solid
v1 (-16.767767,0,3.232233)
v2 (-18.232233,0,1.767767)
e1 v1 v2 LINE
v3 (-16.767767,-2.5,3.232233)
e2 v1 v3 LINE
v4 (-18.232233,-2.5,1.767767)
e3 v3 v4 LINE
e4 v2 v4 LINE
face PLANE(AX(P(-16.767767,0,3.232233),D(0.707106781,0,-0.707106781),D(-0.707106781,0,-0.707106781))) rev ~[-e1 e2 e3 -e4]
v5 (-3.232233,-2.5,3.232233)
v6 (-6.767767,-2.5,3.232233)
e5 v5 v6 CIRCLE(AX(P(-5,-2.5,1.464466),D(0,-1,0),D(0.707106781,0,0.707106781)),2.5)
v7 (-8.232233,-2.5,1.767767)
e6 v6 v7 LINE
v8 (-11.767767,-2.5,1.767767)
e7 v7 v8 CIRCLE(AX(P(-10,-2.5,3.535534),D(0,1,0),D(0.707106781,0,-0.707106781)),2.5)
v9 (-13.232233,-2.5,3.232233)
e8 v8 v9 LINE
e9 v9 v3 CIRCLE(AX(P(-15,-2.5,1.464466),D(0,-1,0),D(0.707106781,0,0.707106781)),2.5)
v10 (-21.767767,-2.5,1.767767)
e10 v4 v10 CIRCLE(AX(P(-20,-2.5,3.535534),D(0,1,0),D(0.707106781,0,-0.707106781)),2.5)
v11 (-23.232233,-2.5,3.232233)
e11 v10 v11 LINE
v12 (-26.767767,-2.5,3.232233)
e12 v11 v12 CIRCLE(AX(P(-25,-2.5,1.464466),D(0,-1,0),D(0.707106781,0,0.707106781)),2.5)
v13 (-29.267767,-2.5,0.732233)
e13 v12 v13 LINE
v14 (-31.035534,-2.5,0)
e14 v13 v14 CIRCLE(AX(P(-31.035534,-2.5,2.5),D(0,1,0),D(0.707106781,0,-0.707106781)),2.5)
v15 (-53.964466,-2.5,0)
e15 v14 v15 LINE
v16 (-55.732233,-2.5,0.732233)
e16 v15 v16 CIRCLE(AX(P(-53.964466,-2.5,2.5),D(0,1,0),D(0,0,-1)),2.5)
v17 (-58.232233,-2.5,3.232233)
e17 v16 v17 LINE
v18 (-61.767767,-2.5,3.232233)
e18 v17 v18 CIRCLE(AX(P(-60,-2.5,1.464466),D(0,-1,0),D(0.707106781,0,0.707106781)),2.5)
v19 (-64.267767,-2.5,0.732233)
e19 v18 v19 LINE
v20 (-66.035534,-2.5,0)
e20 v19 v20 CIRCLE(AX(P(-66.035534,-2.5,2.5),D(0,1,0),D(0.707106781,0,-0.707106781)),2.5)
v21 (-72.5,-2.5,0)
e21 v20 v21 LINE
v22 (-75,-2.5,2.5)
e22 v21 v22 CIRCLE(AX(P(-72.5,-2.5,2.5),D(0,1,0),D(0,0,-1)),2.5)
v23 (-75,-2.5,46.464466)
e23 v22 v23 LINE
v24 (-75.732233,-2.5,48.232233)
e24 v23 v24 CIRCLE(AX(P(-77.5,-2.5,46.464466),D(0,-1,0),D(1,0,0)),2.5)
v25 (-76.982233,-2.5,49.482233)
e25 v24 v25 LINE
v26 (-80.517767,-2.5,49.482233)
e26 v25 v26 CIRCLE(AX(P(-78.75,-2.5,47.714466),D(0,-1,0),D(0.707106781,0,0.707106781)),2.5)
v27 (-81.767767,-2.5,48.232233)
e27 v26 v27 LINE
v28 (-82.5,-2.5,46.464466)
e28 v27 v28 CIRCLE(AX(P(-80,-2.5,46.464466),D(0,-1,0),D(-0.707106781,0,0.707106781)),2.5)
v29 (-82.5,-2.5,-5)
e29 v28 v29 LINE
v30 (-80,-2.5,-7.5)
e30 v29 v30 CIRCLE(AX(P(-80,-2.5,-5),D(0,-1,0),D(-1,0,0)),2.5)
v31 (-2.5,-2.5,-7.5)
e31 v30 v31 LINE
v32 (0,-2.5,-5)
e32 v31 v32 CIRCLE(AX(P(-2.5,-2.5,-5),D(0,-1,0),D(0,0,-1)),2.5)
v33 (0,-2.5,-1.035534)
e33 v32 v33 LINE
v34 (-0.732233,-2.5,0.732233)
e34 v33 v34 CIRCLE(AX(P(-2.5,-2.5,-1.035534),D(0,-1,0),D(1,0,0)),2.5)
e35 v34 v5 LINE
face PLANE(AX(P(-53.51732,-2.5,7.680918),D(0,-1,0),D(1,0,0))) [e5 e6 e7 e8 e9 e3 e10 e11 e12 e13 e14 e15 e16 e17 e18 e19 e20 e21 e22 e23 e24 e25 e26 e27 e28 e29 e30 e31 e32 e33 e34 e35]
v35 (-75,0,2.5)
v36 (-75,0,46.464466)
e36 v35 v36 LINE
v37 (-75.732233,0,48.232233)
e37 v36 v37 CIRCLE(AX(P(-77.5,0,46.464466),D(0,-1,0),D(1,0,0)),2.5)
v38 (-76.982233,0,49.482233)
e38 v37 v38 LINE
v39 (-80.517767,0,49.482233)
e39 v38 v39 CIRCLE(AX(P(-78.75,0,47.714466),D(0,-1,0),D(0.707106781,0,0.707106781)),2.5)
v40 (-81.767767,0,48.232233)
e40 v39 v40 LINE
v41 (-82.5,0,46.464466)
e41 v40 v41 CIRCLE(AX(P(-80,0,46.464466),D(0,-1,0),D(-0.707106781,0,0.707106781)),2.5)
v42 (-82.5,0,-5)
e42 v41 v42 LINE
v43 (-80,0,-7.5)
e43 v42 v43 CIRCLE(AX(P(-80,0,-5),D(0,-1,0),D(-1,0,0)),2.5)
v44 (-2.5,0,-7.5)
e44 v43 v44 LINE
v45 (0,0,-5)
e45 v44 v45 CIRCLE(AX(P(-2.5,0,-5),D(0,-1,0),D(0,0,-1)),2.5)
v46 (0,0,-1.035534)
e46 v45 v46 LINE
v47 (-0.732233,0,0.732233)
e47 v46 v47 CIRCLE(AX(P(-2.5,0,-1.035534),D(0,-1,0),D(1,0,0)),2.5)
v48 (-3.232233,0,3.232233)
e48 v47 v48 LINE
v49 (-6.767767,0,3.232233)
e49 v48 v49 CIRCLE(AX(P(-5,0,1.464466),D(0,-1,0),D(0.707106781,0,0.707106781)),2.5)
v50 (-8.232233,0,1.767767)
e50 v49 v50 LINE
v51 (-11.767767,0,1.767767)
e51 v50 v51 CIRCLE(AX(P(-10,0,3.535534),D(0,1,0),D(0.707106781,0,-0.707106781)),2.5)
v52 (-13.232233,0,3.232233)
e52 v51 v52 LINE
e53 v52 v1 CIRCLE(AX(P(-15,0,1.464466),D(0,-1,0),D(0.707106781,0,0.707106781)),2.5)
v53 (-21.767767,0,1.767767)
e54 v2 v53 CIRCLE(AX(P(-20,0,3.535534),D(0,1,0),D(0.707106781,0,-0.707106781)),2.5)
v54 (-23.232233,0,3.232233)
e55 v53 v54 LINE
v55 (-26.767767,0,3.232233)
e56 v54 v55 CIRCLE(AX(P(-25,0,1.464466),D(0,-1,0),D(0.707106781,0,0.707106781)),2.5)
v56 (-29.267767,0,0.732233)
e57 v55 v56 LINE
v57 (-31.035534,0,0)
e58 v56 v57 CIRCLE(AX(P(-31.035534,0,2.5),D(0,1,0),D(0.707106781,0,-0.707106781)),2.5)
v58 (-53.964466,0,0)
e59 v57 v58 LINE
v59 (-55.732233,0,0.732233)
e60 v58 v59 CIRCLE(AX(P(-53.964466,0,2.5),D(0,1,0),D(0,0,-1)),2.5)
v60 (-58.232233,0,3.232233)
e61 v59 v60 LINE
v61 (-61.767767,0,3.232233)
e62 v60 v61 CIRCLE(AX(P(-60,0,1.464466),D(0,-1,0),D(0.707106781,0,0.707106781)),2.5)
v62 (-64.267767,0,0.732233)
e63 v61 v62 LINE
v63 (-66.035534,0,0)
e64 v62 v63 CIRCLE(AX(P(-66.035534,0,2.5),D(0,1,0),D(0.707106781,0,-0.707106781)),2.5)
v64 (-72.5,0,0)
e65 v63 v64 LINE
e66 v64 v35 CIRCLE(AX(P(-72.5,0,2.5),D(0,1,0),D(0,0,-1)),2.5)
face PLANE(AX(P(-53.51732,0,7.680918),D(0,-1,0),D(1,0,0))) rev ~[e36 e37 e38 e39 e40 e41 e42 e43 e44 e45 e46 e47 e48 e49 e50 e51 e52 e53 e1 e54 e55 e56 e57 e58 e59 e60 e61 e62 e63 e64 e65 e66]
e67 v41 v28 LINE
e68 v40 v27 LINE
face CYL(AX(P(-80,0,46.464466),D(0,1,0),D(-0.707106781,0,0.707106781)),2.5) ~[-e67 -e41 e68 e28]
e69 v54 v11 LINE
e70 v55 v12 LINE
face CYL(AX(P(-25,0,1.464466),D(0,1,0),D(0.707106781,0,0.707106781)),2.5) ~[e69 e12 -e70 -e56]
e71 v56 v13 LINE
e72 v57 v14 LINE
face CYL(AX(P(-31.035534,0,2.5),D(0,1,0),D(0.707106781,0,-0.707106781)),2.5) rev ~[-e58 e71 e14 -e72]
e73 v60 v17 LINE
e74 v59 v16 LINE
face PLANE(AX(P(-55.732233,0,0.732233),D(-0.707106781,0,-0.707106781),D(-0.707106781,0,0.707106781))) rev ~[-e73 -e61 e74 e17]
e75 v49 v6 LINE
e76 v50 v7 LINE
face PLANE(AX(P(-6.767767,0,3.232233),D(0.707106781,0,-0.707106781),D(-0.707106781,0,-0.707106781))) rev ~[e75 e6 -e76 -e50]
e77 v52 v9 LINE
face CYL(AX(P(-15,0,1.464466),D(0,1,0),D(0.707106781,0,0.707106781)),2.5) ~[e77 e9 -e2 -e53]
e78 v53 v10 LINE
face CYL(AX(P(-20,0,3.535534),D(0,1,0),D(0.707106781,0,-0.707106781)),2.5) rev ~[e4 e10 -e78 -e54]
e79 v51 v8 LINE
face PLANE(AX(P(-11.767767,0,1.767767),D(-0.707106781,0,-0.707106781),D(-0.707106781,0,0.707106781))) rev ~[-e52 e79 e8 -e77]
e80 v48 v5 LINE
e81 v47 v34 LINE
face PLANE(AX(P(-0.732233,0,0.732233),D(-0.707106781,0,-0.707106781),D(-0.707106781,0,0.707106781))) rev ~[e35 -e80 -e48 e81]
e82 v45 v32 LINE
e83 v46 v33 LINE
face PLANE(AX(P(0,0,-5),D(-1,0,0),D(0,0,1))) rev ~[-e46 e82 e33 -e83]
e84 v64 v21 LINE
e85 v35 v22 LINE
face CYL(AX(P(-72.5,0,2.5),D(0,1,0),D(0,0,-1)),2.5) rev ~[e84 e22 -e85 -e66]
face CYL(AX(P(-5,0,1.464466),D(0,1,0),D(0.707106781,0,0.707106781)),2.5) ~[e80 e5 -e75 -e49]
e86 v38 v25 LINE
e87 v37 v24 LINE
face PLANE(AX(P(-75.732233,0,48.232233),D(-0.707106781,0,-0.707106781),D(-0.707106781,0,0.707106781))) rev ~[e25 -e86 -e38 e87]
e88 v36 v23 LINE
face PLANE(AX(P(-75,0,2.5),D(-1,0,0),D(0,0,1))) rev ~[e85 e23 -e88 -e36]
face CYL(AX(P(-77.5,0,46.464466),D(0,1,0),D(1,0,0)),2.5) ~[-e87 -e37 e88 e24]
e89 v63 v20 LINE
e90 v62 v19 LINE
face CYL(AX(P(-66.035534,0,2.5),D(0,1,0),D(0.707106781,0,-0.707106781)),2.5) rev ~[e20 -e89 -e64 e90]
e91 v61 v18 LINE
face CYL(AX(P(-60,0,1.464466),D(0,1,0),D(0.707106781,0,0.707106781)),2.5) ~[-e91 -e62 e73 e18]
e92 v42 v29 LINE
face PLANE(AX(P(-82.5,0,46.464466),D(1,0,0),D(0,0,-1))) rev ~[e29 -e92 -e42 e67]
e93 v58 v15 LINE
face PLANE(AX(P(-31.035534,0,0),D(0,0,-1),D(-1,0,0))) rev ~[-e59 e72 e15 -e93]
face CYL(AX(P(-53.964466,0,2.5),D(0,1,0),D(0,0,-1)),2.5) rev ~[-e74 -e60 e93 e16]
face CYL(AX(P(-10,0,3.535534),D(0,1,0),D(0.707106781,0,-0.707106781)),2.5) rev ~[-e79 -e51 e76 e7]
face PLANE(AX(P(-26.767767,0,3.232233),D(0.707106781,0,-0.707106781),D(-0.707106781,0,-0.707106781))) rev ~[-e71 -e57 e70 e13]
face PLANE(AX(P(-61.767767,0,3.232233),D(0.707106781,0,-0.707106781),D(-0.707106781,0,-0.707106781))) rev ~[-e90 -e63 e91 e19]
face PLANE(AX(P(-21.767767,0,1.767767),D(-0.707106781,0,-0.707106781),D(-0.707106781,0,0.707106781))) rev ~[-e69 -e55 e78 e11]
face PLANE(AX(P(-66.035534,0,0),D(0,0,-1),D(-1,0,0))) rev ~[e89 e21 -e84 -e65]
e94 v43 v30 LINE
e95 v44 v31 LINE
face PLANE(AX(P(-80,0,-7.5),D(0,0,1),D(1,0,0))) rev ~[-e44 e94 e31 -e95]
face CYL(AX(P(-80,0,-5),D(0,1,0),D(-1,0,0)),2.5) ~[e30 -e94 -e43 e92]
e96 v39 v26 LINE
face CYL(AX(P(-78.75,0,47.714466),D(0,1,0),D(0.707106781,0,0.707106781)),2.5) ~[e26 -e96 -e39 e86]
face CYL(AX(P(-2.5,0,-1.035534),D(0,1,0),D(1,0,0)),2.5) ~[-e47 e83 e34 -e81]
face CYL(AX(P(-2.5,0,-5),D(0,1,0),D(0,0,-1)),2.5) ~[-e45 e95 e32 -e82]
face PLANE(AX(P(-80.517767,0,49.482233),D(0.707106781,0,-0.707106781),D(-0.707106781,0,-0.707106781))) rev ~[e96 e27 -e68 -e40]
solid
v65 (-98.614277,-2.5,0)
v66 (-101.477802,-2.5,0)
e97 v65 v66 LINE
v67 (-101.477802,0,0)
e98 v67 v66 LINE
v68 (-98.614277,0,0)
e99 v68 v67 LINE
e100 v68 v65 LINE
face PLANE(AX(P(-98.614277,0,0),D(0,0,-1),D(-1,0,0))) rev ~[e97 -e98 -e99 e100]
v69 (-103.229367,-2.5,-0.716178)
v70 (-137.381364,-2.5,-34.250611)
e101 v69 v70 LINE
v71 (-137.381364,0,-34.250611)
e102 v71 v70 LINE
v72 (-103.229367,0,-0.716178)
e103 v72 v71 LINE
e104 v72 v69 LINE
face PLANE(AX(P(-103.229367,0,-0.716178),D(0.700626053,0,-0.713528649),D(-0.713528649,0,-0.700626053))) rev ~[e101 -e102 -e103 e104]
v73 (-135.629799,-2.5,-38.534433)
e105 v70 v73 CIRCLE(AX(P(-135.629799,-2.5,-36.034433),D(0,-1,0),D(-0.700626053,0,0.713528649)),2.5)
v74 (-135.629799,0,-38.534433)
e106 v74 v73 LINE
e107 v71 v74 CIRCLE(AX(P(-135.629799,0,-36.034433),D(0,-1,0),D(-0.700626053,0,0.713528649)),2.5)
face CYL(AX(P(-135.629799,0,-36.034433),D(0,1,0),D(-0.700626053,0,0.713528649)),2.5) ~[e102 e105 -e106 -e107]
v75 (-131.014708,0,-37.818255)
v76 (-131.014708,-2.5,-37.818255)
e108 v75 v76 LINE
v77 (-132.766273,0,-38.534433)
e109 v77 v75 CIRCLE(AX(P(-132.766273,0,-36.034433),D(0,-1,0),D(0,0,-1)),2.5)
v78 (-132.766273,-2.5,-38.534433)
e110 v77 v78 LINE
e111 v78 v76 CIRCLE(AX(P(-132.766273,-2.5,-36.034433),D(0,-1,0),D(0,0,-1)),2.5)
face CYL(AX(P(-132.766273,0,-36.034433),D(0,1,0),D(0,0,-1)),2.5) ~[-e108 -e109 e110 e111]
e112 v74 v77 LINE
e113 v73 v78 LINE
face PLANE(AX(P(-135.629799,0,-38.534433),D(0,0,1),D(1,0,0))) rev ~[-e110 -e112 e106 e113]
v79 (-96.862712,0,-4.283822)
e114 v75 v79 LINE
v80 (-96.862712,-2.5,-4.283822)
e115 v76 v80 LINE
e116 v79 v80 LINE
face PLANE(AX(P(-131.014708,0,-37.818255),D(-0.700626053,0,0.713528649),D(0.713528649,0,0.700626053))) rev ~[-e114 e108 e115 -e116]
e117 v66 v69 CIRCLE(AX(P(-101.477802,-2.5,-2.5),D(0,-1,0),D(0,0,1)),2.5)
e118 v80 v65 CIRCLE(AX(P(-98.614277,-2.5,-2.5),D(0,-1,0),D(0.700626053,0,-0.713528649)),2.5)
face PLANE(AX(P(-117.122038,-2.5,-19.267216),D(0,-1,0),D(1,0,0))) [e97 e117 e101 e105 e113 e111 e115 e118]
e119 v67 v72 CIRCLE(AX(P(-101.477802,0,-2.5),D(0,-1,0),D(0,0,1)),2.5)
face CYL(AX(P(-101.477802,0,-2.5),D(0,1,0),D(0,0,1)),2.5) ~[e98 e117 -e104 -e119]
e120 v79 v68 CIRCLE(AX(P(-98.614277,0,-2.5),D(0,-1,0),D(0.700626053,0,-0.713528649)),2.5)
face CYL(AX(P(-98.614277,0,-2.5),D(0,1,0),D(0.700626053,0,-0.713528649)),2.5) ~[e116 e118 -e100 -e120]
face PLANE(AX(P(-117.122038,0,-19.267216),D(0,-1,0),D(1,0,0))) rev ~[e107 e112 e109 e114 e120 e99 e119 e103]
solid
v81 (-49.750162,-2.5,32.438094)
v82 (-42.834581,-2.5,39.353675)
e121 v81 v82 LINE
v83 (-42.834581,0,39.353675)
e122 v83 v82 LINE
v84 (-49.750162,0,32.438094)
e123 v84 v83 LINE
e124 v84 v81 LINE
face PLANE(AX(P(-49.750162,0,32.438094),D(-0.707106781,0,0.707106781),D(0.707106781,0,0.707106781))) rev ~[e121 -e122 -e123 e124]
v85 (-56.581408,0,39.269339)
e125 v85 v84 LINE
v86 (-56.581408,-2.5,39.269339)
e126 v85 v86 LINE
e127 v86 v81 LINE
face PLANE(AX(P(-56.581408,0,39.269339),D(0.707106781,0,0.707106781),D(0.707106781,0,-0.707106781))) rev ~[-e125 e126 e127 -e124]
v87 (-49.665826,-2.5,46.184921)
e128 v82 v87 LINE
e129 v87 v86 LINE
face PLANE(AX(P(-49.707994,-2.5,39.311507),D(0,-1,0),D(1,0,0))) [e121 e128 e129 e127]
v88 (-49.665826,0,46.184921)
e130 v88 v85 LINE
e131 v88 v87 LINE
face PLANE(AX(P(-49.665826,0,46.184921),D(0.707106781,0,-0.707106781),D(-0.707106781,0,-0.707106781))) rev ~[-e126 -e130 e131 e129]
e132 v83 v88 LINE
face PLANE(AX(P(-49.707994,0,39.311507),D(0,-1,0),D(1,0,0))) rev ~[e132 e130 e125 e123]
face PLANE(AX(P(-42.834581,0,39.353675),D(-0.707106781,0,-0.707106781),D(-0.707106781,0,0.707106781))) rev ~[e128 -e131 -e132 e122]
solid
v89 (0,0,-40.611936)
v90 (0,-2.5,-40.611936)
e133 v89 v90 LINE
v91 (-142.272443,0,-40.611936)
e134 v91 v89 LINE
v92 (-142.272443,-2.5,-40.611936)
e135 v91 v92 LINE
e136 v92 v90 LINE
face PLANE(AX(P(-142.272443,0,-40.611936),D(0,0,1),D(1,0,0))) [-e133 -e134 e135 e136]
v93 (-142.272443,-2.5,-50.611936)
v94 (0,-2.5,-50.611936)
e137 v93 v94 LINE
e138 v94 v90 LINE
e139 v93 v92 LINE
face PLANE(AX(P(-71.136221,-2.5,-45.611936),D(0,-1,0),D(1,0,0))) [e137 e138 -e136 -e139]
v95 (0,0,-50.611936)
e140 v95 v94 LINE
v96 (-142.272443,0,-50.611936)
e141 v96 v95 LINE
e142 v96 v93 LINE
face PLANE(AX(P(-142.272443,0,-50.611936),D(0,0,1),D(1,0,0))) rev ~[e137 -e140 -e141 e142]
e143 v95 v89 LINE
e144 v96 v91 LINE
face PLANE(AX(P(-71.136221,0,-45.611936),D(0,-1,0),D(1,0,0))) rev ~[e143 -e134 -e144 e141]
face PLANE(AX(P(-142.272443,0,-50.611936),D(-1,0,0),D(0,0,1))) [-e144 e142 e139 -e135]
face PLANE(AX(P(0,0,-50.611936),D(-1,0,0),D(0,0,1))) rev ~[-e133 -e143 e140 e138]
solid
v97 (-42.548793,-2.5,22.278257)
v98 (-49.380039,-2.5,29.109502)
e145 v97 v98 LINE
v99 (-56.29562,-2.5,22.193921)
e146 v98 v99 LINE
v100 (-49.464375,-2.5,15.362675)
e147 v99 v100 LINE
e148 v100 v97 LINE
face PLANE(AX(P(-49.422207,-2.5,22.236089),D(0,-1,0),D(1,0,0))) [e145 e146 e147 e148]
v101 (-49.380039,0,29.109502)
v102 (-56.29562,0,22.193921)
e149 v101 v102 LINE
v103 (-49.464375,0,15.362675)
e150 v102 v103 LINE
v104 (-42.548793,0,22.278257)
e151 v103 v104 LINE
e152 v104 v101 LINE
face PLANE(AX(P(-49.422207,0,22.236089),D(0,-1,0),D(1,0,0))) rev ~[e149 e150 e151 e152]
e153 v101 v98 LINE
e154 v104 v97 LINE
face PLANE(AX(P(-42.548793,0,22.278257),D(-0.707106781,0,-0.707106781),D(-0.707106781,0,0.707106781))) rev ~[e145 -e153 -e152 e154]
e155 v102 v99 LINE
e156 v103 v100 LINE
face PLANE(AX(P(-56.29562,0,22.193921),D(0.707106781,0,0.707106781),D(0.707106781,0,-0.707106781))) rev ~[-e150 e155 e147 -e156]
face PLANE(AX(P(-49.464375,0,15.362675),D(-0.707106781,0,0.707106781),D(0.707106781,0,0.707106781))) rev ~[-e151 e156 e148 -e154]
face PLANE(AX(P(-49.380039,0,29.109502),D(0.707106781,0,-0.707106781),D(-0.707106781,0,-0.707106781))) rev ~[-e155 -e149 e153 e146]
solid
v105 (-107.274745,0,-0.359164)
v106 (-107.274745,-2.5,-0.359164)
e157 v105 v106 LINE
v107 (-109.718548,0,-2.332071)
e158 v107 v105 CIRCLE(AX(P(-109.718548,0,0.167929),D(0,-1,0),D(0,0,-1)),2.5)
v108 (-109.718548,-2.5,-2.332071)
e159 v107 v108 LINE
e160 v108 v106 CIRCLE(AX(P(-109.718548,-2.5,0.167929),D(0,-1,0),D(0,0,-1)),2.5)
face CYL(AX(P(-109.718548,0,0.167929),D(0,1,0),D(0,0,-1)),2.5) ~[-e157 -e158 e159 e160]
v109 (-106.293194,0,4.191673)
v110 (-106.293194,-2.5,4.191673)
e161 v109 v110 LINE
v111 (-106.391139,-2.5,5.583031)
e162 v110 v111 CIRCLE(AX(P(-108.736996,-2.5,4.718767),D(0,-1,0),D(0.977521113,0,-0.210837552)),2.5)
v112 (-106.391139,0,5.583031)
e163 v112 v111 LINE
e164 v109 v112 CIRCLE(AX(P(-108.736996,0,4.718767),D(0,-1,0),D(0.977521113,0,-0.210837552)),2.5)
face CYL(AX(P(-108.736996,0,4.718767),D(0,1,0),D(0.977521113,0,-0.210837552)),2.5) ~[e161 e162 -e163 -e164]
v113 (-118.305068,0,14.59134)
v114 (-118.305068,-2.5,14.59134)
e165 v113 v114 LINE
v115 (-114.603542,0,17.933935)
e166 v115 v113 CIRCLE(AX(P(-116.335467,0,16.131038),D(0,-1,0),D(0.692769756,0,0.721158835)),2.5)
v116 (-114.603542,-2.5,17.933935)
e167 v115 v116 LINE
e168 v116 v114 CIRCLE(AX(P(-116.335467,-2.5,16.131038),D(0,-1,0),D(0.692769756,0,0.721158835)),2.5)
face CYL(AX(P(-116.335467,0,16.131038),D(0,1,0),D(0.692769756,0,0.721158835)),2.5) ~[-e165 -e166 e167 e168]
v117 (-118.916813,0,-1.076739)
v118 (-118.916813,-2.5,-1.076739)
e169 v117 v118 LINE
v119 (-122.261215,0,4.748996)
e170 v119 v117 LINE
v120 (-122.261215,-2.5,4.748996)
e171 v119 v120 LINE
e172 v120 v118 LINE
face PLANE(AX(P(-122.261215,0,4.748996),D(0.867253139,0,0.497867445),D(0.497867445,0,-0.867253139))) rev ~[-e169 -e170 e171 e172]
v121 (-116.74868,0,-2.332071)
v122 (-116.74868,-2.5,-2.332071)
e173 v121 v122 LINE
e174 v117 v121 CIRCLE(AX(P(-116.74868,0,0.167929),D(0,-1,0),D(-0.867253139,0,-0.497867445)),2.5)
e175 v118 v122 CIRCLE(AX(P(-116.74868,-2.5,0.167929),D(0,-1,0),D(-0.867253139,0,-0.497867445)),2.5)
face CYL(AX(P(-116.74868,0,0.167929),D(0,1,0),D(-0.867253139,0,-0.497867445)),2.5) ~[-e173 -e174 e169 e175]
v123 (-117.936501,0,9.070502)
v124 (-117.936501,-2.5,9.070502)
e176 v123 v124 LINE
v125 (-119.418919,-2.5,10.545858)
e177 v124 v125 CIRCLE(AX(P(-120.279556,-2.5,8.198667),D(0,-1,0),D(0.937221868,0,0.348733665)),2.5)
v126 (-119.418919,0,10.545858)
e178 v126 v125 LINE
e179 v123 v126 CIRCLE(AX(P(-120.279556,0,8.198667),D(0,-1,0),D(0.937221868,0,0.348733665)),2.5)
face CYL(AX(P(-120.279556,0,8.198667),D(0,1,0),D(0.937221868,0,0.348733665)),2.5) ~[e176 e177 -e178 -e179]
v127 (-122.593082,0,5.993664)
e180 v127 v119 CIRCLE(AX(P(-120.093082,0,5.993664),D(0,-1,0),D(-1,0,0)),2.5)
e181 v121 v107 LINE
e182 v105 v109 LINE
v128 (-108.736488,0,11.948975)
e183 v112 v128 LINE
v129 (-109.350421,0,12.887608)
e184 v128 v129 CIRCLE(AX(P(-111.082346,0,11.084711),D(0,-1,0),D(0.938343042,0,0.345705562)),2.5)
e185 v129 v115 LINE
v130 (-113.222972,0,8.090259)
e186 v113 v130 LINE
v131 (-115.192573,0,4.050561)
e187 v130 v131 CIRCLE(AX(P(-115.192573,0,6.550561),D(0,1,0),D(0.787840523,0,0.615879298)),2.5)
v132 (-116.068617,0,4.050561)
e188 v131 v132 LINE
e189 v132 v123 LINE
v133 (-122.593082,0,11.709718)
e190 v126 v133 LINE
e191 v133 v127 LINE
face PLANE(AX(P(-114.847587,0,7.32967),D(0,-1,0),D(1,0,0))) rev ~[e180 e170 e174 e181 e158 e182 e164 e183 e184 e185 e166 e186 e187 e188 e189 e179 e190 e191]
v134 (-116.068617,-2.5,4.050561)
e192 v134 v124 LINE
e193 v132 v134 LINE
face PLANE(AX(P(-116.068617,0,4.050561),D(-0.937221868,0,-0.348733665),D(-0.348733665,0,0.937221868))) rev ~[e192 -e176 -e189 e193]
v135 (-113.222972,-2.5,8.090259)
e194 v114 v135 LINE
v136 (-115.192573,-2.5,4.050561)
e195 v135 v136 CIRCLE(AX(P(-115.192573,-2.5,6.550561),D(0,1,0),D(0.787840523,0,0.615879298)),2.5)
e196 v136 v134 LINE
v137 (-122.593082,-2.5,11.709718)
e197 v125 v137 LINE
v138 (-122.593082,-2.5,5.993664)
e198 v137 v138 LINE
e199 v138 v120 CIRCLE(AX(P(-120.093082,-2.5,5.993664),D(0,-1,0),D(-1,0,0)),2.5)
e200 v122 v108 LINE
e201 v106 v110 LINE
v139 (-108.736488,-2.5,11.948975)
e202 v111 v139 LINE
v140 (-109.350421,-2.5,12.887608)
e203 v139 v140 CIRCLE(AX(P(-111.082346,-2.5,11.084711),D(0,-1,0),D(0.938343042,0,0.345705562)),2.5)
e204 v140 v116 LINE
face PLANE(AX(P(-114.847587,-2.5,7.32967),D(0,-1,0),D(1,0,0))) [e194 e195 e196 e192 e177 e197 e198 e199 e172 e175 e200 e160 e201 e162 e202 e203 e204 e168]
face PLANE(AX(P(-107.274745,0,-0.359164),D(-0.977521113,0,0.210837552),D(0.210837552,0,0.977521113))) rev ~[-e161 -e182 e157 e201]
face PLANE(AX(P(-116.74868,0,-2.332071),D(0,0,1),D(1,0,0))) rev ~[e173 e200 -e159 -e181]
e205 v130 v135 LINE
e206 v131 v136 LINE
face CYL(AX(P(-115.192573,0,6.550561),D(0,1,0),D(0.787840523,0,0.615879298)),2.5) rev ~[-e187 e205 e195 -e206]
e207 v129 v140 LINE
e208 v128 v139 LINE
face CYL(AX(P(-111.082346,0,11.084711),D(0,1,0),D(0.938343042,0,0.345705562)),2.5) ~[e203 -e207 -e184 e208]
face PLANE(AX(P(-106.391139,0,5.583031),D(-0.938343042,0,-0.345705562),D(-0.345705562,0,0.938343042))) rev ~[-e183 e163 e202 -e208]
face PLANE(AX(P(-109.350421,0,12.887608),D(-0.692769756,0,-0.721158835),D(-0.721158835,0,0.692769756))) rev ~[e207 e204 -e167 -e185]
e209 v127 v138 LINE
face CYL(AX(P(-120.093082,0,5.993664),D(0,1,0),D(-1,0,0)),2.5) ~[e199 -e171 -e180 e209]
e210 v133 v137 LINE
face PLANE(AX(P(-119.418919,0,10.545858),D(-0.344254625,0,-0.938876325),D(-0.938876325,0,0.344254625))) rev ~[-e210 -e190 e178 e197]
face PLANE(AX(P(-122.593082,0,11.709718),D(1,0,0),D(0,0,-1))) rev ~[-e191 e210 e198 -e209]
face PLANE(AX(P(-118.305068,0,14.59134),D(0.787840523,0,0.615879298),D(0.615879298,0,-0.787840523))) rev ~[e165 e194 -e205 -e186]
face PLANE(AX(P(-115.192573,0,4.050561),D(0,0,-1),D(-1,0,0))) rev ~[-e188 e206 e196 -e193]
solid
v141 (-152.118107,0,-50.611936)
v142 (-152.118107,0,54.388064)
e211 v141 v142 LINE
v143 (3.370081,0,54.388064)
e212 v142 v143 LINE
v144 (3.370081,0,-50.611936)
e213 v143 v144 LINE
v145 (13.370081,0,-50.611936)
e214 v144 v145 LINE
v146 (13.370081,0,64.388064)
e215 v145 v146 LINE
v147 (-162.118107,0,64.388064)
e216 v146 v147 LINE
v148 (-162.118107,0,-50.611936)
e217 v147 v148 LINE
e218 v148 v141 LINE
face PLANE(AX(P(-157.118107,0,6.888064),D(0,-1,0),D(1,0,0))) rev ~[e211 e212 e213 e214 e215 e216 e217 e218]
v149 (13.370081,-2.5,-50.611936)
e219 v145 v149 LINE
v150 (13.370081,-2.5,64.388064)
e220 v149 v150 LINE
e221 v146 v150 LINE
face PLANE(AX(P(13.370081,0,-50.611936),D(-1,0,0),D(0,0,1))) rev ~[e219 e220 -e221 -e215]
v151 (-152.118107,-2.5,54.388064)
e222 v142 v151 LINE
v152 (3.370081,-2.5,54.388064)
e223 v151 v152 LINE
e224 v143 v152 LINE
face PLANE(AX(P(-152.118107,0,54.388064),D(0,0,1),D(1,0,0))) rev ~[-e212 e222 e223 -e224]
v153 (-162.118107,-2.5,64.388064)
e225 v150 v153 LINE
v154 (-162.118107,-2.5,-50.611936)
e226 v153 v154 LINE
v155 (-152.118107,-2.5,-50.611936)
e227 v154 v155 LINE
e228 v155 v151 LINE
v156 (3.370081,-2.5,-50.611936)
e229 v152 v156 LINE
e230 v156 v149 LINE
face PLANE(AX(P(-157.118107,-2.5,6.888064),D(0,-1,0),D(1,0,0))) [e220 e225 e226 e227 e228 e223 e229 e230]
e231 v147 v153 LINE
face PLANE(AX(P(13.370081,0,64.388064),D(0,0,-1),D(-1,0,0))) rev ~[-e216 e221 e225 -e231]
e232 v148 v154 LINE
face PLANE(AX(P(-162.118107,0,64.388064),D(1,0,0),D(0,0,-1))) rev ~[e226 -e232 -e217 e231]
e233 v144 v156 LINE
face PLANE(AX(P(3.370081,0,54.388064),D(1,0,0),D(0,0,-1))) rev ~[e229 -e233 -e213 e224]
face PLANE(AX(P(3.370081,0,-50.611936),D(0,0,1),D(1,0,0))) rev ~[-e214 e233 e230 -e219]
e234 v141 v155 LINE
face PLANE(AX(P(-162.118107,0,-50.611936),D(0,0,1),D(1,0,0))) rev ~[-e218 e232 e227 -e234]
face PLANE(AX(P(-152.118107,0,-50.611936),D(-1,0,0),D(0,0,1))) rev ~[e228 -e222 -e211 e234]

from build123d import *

# Parameters (mm, degrees)
F1_DEPTH = 5
F0_W     = 310.97637631
F0_H     = 20
F0_W_2   = 284.5448851585
F2_SCALE = 0.5


with BuildPart() as f1:
    # F0 (on Front) → F1 (new body)
    with BuildSketch(Plane.XZ):
        with BuildLine():
            Line((0, -10), (0, -2.0710678119))
            ThreePointArc((0, -2.0710678119), (-0.3806023374, -0.15765065), (-1.4644660941, 1.4644660941))
            Line((-1.4644660941, 1.4644660941), (-6.4644660941, 6.4644660941))
            ThreePointArc((-6.4644660941, 6.4644660941), (-10, 7.9289321881), (-13.5355339059, 6.4644660941))
            Line((-13.5355339059, 6.4644660941), (-16.4644660941, 3.5355339059))
            ThreePointArc((-16.4644660941, 3.5355339059), (-20, 2.0710678119), (-23.5355339059, 3.5355339059))
            Line((-23.5355339059, 3.5355339059), (-26.4644660941, 6.4644660941))
            ThreePointArc((-26.4644660941, 6.4644660941), (-30, 7.9289321881), (-33.5355339059, 6.4644660941))
            Line((-33.5355339059, 6.4644660941), (-36.4644660941, 3.5355339059))
            ThreePointArc((-36.4644660941, 3.5355339059), (-40, 2.0710678119), (-43.5355339059, 3.5355339059))
            Line((-43.5355339059, 3.5355339059), (-46.4644660941, 6.4644660941))
            ThreePointArc((-46.4644660941, 6.4644660941), (-50, 7.9289321881), (-53.5355339059, 6.4644660941))
            Line((-53.5355339059, 6.4644660941), (-58.5355339059, 1.4644660941))
            ThreePointArc((-58.5355339059, 1.4644660941), (-60.15765065, 0.3806023374), (-62.0710678119, 0))
            Line((-62.0710678119, 0), (-107.9289321881, 0))
            ThreePointArc((-107.9289321881, 0), (-109.84234935, 0.3806023374), (-111.4644660941, 1.4644660941))
            Line((-111.4644660941, 1.4644660941), (-116.4644660941, 6.4644660941))
            ThreePointArc((-116.4644660941, 6.4644660941), (-120, 7.9289321881), (-123.5355339059, 6.4644660941))
            Line((-123.5355339059, 6.4644660941), (-128.5355339059, 1.4644660941))
            ThreePointArc((-128.5355339059, 1.4644660941), (-130.15765065, 0.3806023374), (-132.0710678119, 0))
            Line((-132.0710678119, 0), (-145, 0))
            ThreePointArc((-145, 0), (-148.5355339059, 1.4644660941), (-150, 5))
            Line((-150, 5), (-150, 92.9289321881))
            ThreePointArc((-150, 92.9289321881), (-150.3806023374, 94.84234935), (-151.4644660941, 96.4644660941))
            Line((-151.4644660941, 96.4644660941), (-153.9644660941, 98.9644660941))
            ThreePointArc((-153.9644660941, 98.9644660941), (-157.5, 100.4289321881), (-161.0355339059, 98.9644660941))
            Line((-161.0355339059, 98.9644660941), (-163.5355339059, 96.4644660941))
            ThreePointArc((-163.5355339059, 96.4644660941), (-164.6193976626, 94.84234935), (-165, 92.9289321881))
            Line((-165, 92.9289321881), (-165, -10))
            ThreePointArc((-165, -10), (-163.5355339059, -13.5355339059), (-160, -15))
            Line((-160, -15), (-5, -15))
            ThreePointArc((-5, -15), (-1.4644660941, -13.5355339059), (0, -10))
        make_face()
    extrude(amount=F1_DEPTH)


with BuildPart() as f1b:
    # F0 (on Front) → F1, piece 2 (new body)
    with BuildSketch(Plane.XZ):
        with BuildLine():
            ThreePointArc((-193.7254233377, -8.5676432473), (-192.6004753719, -3.1076755348), (-197.2285536036, 0))
            Line((-197.2285536036, 0), (-202.9556044966, 0))
            ThreePointArc((-202.9556044966, 0), (-204.8479289618, -0.3719217683), (-206.4587347625, -1.4323567527))
            Line((-206.4587347625, -1.4323567527), (-274.7627281037, -68.501222602))
            ThreePointArc((-274.7627281037, -68.501222602), (-275.8876760695, -73.9611903145), (-271.2595978379, -77.0688658493))
            Line((-271.2595978379, -77.0688658493), (-265.5325469448, -77.0688658493))
            ThreePointArc((-265.5325469448, -77.0688658493), (-263.6402224796, -76.696944081), (-262.029416679, -75.6365090967))
            Line((-262.029416679, -75.6365090967), (-193.7254233377, -8.5676432473))
        make_face()
    extrude(amount=F1_DEPTH)


with BuildPart() as f1c:
    # F0 (on Front) → F1, piece 3 (new body)
    with BuildSketch(Plane.XZ):
        with BuildLine():
            Line((-218.7008427913, 25.7752162691), (-229.2070842299, 35.8678698686))
            ThreePointArc((-229.2070842299, 35.8678698686), (-236.021967756, 35.9729470347), (-236.6101356246, 29.1826792018))
            Line((-236.6101356246, 29.1826792018), (-226.4459441794, 16.1805180131))
            ThreePointArc((-226.4459441794, 16.1805180131), (-225.890873637, 10.9098869907), (-230.3851467959, 8.1011215225))
            Line((-230.3851467959, 8.1011215225), (-232.1372330189, 8.1011215225))
            Line((-232.1372330189, 8.1011215225), (-235.87300241, 18.1410032942))
            ThreePointArc((-235.87300241, 18.1410032942), (-237.0320287136, 19.9412995895), (-238.8378386273, 21.0917165917))
            Line((-238.8378386273, 21.0917165917), (-245.1861649752, 23.4194360673))
            Line((-245.1861649752, 23.4194360673), (-245.1861649752, 11.9873284513))
            ThreePointArc((-245.1861649752, 11.9873284513), (-245.0173826519, 10.6991763796), (-244.5224306712, 9.4979912276))
            Line((-244.5224306712, 9.4979912276), (-237.8336253269, -2.1534784428))
            ThreePointArc((-237.8336253269, -2.1534784428), (-236.0026853464, -3.9911890648), (-233.4973596309, -4.6641412191))
            Line((-233.4973596309, -4.6641412191), (-219.4370961652, -4.6641412191))
            ThreePointArc((-219.4370961652, -4.6641412191), (-216.2963111363, -3.5545742801), (-214.5494905996, -0.7183289799))
            Line((-214.5494905996, -0.7183289799), (-212.5863872862, 8.3833462982))
            ThreePointArc((-212.5863872862, 8.3833462982), (-212.4863357749, 9.7886421375), (-212.7822776415, 11.1660618674))
            Line((-212.7822776415, 11.1660618674), (-217.4729763592, 23.8979499014))
            ThreePointArc((-217.4729763592, 23.8979499014), (-217.9802754518, 24.9063294265), (-218.7008427913, 25.7752162691))
        make_face()
    extrude(amount=F1_DEPTH)


with BuildPart() as f1d:
    # F0 (on Front) → F1, piece 4 (new body)
    with BuildSketch(Plane.XZ):
        Polygon((-85.6691618817, 78.7073502742), (-99.3316528824, 92.3698412749), (-113.1628155708, 78.5386785865), (-99.5003245701, 64.8761875858), align=None)
    extrude(amount=F1_DEPTH)


with BuildPart() as f1e:
    # F0 (on Front) → F1, piece 5 (new body)
    with BuildSketch(Plane.XZ):
        Polygon((-85.0975868729, 44.5565132919), (-98.7600778736, 58.2190042926), (-112.591240562, 44.3878416041), (-98.9287495613, 30.7253506035), align=None)
    extrude(amount=F1_DEPTH)


with BuildPart() as f1f:
    # F0 (on Front) → F1, piece 6 (new body)
    with BuildSketch(Plane.XZ):
        Polygon((-324.2362141609, 128.7761288881), (-324.2362141609, -101.2238711119), (-304.2362141609, -101.2238711119), (-304.2362141609, 108.7761288881), (-304.2362141609, 128.7761288881), align=None)
        with Locations((-148.7480260059, 118.7761288881)):
            Rectangle(F0_W, F0_H)
        Polygon((6.7401621491, 128.7761288881), (6.7401621491, 108.7761288881), (6.7401621491, -101.2238711119), (26.7401621491, -101.2238711119), (26.7401621491, 128.7761288881), align=None)
    extrude(amount=F1_DEPTH)


with BuildPart() as f1g:
    # F0 (on Front) → F1, piece 7 (new body)
    with BuildSketch(Plane.XZ):
        with Locations((-142.2724425793, -91.2238711119)):
            Rectangle(F0_W_2, F0_H)
    extrude(amount=F1_DEPTH)


with BuildPart() as f1f_1:
    # F2: moved
    add(f1f.part.scale(F2_SCALE))


with BuildPart() as f1_1:
    # F2: moved
    add(f1.part.scale(F2_SCALE))


with BuildPart() as f1d_1:
    # F2: moved
    add(f1d.part.scale(F2_SCALE))


with BuildPart() as f1e_1:
    # F2: moved
    add(f1e.part.scale(F2_SCALE))


with BuildPart() as f1c_1:
    # F2: moved
    add(f1c.part.scale(F2_SCALE))


with BuildPart() as f1b_1:
    # F2: moved
    add(f1b.part.scale(F2_SCALE))


with BuildPart() as f1g_1:
    # F2: moved
    add(f1g.part.scale(F2_SCALE))


solid = Compound([f1f_1.part, f1_1.part, f1d_1.part, f1e_1.part, f1c_1.part, f1b_1.part, f1g_1.part])
